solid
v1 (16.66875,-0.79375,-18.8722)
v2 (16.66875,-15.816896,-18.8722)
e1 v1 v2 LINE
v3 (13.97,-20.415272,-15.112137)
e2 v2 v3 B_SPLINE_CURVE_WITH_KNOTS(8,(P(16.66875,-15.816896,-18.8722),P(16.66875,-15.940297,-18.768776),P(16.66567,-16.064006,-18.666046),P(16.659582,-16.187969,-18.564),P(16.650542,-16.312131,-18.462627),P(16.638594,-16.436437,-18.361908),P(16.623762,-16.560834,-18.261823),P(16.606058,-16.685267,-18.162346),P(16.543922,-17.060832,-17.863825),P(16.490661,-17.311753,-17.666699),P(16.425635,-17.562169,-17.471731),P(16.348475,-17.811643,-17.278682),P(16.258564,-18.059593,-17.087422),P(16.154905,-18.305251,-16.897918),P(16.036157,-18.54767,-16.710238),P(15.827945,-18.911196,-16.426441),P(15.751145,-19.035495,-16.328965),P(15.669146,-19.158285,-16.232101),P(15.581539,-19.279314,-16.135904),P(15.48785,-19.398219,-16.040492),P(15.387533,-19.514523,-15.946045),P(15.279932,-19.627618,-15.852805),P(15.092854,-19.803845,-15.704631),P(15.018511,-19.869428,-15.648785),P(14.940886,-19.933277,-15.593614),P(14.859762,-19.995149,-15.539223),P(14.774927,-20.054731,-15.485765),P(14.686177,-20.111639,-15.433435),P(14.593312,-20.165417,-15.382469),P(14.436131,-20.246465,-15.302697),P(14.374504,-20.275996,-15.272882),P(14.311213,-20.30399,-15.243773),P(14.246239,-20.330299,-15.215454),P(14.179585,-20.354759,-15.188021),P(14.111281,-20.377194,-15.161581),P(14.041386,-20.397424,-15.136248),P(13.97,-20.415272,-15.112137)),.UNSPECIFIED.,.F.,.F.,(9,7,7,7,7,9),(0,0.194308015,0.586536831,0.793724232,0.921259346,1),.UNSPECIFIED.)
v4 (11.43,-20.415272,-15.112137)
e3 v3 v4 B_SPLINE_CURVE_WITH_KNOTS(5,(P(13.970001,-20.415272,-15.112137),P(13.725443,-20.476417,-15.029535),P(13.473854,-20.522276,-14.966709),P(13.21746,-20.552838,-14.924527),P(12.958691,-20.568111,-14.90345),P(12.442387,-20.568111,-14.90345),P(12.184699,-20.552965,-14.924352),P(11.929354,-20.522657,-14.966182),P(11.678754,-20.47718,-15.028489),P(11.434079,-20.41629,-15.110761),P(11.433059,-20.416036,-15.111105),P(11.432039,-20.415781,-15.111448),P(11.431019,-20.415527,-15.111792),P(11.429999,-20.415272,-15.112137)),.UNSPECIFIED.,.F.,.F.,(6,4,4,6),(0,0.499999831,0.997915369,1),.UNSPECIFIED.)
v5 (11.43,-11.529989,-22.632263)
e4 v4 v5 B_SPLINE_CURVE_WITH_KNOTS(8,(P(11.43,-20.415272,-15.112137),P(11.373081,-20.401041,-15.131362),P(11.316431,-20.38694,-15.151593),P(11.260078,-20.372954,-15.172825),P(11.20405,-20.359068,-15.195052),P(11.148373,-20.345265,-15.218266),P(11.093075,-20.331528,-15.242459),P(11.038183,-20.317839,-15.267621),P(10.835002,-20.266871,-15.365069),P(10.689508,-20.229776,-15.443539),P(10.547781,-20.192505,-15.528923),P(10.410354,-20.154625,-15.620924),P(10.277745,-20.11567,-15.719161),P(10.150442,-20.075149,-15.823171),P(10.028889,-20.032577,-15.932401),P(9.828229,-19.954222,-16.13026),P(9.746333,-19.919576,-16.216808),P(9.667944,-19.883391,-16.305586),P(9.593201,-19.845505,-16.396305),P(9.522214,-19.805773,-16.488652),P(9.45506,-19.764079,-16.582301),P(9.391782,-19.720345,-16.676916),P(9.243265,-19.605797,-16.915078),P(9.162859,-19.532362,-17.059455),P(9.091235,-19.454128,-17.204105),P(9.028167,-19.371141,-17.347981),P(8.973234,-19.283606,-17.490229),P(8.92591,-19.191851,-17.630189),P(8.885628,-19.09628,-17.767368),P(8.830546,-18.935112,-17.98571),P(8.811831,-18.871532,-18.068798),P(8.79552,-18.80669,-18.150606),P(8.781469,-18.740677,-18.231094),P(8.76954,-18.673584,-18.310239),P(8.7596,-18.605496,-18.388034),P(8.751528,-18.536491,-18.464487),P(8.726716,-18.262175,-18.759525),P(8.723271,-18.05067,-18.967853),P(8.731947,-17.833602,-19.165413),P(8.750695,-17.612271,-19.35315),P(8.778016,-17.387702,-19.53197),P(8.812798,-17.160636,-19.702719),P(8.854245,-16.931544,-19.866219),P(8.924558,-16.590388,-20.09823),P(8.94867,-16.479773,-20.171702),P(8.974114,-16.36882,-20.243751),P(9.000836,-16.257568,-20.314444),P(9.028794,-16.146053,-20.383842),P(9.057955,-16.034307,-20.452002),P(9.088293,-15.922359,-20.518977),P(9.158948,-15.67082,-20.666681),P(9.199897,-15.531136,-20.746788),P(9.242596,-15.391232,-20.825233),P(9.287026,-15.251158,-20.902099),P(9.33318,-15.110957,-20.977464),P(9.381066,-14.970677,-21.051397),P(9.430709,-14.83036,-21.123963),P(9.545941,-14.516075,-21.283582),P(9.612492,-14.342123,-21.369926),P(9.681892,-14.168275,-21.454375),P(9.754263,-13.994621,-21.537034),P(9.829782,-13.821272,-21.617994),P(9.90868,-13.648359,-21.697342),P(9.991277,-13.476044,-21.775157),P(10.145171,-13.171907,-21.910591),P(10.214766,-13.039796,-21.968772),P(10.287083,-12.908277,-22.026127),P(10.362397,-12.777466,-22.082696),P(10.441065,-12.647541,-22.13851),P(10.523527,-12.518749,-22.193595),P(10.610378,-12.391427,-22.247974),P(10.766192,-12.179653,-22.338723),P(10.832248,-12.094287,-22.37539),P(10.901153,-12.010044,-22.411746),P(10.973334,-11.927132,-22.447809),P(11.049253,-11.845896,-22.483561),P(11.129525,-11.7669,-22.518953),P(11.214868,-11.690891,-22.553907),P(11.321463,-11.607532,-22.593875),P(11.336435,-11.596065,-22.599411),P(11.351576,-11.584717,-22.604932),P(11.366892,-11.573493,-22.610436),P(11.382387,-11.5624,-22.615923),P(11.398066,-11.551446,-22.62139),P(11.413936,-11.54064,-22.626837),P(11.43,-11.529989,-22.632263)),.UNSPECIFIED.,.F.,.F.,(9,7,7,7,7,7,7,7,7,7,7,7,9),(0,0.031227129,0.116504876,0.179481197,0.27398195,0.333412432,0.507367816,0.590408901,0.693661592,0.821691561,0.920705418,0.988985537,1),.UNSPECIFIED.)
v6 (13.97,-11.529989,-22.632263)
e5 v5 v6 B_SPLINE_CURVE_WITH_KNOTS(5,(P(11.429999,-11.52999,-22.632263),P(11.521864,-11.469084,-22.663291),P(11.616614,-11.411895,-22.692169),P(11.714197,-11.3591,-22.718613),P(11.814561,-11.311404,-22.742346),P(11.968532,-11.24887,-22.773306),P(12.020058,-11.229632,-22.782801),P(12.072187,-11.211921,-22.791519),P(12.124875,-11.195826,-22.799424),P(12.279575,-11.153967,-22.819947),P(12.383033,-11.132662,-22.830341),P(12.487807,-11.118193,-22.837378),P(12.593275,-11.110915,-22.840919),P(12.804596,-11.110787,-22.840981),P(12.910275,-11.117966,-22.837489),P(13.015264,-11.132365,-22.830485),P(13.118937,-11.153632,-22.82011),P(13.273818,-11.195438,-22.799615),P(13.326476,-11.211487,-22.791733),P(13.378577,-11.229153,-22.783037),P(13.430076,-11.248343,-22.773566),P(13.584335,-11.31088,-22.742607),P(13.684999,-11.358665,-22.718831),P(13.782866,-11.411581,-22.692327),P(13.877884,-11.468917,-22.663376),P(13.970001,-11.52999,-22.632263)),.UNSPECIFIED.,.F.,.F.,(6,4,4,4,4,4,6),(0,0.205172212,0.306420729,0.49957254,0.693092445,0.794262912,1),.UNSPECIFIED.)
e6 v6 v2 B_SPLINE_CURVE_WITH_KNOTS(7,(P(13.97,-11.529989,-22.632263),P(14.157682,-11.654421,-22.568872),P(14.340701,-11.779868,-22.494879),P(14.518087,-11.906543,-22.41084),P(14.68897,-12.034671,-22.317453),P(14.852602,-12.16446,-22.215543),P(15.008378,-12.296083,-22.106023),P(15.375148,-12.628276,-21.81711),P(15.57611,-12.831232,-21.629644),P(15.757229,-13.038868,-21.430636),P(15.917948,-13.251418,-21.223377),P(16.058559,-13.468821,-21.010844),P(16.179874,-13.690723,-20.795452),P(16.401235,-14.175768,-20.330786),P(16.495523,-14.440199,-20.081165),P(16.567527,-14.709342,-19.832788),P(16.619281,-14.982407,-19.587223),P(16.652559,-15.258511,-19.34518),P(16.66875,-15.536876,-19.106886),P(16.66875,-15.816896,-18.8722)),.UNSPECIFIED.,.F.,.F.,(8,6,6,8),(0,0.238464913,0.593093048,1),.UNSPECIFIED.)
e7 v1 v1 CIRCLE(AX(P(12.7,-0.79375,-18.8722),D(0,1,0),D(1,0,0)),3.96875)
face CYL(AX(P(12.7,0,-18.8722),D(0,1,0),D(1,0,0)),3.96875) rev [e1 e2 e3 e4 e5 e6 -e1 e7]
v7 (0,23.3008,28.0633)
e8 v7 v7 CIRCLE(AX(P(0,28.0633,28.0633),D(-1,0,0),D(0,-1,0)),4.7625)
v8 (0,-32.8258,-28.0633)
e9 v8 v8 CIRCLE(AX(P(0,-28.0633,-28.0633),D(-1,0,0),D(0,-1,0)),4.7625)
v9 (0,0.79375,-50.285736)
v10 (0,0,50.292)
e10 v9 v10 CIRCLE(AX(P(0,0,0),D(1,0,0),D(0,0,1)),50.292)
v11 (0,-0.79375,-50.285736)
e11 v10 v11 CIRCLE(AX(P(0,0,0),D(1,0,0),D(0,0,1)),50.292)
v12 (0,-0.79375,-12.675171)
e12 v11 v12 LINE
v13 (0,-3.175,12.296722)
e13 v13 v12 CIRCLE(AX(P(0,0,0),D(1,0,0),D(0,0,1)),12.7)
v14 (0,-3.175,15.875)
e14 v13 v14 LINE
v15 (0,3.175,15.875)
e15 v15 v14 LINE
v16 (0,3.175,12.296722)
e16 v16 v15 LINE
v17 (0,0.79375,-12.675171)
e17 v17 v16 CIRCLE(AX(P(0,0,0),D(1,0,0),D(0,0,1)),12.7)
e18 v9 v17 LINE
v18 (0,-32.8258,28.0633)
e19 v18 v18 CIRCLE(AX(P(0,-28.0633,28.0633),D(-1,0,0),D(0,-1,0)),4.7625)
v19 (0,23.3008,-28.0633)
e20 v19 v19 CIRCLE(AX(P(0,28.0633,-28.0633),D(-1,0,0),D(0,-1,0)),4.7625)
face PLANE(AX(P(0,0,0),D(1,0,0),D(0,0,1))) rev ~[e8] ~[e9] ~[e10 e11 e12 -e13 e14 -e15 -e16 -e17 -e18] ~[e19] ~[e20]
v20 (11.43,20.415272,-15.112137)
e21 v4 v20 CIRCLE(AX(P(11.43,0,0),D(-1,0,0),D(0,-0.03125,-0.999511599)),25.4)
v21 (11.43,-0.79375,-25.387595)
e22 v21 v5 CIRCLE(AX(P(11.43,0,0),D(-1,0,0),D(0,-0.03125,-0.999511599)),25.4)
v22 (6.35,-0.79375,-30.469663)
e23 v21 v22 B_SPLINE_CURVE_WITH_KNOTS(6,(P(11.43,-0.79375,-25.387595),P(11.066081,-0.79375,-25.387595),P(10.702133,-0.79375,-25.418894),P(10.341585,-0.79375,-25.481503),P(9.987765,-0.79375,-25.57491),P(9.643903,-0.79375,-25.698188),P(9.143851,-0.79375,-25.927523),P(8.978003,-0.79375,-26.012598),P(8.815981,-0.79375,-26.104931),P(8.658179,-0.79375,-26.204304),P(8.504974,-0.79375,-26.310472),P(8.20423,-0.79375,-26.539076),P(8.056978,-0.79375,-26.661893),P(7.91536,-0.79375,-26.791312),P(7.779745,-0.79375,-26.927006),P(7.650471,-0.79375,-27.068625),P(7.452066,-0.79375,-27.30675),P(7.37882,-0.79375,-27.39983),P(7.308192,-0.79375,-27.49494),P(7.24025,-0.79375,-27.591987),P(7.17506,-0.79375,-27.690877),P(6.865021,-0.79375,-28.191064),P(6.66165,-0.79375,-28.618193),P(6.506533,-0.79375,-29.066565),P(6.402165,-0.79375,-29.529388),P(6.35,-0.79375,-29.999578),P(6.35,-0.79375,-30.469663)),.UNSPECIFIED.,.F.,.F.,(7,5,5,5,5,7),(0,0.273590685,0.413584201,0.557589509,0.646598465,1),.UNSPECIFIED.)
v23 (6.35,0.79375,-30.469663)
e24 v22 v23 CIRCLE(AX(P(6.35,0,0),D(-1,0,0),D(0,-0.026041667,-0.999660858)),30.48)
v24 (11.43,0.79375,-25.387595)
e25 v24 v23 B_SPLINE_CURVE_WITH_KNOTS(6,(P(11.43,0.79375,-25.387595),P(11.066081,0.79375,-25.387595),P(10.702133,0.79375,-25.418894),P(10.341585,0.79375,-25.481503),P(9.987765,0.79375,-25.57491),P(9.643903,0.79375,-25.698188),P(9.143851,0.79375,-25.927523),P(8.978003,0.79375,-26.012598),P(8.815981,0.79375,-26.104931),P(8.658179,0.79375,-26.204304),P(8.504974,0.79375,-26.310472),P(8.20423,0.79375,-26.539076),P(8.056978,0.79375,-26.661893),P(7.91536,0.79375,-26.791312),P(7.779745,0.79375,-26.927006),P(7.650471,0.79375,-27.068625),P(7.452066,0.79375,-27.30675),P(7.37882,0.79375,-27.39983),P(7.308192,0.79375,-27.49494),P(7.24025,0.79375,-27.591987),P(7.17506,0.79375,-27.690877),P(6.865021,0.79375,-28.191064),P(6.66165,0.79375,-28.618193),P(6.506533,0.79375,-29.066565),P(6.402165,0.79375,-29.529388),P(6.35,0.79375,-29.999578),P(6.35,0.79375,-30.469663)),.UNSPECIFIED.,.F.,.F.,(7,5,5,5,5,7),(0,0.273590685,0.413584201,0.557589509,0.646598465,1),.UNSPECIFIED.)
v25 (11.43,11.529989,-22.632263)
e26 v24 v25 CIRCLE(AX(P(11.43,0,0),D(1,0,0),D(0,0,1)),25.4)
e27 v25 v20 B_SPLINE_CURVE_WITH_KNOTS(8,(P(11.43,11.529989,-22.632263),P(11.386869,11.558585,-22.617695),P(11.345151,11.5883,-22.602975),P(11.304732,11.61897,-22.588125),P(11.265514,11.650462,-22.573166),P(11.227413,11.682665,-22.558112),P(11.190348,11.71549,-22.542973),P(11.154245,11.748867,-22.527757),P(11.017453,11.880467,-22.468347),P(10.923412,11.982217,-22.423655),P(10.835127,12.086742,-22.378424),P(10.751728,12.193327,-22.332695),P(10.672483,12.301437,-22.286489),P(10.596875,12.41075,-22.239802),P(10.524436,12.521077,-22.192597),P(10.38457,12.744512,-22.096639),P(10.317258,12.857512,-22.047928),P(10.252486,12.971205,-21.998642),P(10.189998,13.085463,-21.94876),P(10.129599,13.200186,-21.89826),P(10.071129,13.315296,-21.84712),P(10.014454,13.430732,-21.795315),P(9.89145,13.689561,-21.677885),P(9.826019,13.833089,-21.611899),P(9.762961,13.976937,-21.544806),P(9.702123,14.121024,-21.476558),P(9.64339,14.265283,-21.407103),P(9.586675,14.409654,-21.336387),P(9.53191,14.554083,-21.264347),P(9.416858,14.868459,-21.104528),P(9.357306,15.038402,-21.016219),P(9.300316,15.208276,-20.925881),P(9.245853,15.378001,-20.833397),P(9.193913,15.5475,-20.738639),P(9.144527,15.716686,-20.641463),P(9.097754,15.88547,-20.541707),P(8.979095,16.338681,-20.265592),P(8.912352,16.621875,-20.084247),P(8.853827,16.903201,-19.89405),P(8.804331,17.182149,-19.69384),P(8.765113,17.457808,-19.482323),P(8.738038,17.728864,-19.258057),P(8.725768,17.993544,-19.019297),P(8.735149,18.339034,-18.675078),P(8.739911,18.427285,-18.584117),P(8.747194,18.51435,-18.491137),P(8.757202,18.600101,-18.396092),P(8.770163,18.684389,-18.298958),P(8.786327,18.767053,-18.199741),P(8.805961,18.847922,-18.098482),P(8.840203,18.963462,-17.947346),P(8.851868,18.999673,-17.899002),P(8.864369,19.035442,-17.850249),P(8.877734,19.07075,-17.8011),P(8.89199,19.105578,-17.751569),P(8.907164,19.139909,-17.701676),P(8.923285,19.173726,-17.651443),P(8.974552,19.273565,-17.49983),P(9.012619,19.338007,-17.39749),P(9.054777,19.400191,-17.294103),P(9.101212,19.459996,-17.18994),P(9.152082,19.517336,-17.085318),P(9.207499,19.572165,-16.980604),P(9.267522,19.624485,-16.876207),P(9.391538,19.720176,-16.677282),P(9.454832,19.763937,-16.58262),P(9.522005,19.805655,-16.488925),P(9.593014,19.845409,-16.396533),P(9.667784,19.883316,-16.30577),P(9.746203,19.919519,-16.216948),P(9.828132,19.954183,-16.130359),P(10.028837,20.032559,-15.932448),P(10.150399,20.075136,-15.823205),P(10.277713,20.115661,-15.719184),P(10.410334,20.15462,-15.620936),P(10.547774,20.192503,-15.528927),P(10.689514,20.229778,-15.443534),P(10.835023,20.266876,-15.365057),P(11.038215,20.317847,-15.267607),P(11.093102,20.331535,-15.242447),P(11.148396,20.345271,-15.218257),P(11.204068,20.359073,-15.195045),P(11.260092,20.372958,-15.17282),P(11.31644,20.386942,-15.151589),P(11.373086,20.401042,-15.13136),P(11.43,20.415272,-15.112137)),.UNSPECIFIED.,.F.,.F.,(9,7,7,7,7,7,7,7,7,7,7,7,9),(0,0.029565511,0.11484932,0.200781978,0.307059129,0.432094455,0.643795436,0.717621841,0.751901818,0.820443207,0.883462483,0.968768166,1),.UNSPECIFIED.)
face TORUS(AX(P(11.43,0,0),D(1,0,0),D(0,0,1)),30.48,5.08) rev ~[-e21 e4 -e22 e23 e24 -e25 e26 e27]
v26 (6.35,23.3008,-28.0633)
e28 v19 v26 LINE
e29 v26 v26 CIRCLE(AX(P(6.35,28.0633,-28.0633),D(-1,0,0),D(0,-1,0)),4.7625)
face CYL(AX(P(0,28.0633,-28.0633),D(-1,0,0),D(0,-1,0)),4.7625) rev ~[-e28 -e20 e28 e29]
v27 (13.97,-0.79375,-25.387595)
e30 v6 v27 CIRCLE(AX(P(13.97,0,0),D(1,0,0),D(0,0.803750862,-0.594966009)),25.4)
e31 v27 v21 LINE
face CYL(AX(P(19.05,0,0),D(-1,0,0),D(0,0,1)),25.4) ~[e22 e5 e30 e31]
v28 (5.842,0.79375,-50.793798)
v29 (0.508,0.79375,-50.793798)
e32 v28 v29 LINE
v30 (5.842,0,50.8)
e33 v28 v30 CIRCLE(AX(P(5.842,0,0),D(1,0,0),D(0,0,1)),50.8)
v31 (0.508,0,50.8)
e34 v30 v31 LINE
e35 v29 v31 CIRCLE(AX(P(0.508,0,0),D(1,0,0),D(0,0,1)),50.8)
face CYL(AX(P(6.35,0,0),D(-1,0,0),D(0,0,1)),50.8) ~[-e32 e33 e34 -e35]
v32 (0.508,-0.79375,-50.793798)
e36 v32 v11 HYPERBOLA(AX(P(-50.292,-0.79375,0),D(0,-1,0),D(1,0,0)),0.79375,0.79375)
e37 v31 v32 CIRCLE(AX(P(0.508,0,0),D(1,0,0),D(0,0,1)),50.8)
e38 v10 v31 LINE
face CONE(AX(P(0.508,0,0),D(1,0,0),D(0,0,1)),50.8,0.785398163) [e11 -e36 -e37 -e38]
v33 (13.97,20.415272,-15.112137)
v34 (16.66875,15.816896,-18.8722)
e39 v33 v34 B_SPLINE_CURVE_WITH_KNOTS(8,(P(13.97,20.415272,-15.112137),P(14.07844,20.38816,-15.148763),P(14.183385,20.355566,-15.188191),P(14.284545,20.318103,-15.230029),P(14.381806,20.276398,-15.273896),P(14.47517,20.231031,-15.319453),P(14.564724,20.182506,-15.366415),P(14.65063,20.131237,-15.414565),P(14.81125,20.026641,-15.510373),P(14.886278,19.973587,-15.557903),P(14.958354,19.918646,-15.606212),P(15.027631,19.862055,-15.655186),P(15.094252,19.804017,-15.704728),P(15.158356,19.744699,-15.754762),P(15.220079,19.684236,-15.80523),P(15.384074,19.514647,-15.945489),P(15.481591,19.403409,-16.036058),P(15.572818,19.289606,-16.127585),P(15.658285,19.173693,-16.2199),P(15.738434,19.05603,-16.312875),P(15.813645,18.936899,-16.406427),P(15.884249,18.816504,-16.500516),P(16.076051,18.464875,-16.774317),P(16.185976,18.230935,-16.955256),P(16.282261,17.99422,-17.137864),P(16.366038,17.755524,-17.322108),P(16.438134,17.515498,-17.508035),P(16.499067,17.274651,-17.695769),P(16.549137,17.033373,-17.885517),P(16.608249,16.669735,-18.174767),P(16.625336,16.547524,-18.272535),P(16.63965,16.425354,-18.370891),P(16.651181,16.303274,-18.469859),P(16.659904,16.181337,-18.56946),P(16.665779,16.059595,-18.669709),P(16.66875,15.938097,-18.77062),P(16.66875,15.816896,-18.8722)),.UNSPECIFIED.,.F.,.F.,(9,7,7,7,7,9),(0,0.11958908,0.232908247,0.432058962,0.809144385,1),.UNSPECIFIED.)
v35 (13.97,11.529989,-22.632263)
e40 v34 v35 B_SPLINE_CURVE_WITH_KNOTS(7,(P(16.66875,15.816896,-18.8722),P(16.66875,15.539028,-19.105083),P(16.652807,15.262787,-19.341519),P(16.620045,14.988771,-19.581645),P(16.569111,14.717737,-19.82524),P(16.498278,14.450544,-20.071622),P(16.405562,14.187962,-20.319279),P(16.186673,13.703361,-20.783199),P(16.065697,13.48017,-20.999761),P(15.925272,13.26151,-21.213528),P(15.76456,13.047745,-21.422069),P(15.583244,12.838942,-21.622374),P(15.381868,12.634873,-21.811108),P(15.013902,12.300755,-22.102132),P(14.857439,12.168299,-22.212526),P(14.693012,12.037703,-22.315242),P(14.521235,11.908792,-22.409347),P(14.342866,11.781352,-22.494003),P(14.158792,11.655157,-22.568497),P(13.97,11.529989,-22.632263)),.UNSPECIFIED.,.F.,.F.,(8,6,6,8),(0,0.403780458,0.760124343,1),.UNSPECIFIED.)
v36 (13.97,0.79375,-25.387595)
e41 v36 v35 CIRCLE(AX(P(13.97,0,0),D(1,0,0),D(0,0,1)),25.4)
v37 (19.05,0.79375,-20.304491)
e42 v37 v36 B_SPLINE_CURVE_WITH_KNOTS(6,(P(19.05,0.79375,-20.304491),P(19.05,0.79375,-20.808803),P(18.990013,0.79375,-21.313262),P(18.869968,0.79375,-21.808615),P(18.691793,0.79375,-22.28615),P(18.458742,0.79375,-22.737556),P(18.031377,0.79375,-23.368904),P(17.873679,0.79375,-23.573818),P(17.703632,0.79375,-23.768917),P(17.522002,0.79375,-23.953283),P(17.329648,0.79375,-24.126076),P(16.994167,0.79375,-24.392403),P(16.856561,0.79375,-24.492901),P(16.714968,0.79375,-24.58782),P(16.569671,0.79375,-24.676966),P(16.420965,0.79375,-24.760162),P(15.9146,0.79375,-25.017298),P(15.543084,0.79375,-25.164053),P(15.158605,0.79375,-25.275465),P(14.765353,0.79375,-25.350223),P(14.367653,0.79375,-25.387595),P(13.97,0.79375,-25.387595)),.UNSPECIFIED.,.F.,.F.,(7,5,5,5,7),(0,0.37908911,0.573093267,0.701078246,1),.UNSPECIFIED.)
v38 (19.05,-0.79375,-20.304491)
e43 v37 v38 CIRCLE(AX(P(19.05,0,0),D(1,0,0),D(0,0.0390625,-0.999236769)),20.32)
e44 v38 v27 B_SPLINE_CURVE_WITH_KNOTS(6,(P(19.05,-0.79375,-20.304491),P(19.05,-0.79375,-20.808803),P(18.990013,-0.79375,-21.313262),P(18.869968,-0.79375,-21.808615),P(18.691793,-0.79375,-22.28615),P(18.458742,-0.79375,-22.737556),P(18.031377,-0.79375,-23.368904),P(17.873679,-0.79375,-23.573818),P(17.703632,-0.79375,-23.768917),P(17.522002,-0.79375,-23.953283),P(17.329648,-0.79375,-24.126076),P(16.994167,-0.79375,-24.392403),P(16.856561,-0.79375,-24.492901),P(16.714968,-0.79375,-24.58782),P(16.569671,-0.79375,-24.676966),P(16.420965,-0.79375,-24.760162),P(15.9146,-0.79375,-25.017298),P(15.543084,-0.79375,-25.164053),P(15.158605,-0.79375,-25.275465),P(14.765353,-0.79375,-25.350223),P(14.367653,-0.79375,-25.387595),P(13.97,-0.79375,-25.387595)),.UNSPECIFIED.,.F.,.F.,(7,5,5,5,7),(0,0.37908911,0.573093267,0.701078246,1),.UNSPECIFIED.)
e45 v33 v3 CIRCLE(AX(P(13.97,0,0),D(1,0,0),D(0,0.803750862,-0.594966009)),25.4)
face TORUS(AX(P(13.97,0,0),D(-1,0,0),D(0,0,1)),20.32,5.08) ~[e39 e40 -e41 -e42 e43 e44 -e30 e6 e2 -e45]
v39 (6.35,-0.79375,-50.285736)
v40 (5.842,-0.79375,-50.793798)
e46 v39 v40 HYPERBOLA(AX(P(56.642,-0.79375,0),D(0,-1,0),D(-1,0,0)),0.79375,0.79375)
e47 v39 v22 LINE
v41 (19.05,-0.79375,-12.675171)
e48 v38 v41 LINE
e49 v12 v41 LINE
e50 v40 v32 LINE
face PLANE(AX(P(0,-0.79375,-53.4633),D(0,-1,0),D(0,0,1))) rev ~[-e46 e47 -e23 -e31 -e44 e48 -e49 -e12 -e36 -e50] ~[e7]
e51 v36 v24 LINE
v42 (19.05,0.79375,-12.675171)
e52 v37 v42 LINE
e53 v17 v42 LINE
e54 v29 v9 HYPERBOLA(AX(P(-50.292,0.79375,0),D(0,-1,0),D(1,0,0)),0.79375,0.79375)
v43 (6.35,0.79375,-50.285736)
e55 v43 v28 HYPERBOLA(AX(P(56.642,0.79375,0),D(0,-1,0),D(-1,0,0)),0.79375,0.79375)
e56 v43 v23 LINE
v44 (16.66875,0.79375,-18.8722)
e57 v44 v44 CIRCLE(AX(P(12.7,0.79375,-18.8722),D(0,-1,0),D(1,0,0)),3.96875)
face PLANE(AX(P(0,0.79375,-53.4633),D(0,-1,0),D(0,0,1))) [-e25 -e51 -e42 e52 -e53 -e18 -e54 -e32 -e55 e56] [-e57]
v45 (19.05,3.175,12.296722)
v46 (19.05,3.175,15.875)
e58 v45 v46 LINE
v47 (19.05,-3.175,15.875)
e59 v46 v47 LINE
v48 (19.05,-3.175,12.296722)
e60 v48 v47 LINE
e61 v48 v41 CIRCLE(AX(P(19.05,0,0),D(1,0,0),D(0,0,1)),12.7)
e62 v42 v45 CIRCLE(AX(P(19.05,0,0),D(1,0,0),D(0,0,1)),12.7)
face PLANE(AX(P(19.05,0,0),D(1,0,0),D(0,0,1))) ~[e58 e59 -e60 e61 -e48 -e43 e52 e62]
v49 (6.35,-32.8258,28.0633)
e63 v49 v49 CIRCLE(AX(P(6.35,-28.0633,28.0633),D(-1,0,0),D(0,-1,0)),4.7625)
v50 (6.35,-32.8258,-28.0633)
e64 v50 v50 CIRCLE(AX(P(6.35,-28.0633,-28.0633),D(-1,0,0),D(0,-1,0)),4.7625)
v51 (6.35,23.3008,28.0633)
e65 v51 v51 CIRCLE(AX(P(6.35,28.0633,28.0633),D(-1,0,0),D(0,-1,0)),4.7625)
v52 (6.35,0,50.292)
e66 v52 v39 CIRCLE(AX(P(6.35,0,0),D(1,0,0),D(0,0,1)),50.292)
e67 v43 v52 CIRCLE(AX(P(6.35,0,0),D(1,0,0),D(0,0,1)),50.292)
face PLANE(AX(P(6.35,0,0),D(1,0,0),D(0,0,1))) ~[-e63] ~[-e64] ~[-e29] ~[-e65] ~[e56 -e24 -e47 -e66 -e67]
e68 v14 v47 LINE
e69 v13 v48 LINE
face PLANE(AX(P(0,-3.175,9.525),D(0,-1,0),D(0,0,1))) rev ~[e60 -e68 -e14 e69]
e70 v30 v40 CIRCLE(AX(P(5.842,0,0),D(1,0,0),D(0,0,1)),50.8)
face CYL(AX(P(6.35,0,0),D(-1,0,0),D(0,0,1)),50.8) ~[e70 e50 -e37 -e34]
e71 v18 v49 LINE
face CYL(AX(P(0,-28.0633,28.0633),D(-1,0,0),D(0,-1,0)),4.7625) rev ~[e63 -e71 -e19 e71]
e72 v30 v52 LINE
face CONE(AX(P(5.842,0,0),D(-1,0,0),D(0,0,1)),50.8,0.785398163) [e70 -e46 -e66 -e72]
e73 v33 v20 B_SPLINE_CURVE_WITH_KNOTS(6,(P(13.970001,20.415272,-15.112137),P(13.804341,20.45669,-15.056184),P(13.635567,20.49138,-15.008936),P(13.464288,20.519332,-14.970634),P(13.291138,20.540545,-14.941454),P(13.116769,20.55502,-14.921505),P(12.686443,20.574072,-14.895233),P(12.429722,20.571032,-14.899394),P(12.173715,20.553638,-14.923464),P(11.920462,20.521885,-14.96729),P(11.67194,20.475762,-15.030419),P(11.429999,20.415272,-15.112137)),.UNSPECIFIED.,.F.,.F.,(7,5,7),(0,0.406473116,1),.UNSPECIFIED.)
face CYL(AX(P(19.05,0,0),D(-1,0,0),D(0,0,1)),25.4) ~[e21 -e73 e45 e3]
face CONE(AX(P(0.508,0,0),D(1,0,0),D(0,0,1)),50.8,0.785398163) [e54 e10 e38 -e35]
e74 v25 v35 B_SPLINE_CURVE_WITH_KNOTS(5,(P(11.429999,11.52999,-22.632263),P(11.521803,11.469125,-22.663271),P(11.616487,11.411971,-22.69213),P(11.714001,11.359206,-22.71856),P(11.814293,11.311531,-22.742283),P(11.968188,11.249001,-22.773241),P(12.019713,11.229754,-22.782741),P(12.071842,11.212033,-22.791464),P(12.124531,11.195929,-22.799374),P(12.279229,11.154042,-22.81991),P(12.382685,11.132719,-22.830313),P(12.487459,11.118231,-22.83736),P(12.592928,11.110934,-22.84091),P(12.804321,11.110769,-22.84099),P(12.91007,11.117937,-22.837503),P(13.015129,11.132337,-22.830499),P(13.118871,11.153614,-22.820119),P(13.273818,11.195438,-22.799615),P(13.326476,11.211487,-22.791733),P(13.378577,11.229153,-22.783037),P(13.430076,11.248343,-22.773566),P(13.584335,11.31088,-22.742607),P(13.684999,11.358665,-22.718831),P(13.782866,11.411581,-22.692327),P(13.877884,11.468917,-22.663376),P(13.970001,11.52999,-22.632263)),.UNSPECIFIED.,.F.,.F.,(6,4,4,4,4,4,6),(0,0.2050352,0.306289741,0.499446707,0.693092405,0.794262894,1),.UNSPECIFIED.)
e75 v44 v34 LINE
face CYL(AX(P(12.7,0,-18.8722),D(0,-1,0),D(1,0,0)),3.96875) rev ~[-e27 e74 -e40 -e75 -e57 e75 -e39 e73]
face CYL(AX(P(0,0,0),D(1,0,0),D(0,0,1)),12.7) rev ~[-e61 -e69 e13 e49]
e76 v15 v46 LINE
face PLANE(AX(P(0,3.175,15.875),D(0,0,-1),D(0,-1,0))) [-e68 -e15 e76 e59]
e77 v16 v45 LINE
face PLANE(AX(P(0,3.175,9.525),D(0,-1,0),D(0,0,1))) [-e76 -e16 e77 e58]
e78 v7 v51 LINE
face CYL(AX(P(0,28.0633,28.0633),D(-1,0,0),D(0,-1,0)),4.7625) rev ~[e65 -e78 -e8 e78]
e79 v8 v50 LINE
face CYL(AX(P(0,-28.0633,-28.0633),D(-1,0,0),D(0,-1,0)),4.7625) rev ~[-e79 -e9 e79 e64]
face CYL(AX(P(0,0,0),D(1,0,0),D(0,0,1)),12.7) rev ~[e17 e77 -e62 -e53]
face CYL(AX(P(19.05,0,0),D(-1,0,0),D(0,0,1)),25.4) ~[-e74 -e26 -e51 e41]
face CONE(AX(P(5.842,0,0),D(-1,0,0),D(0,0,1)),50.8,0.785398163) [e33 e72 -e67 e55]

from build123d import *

# Parameters (mm, degrees)
F2_R          = 5.08
F3_SIZE       = 0.508
F4_R          = 4.7625
F4_W          = 6.35
F4_H          = 6.35
F4_W_2        = 1.5875
F4_H_2        = 60.4483003783
F5_DEPTH      = 19.051
F6_R          = 3.96875
F7_DEPTH      = 50.801
F7_DEPTH_BACK = 50.801


with BuildPart() as f1:
    # F0 (on Front) → F1 (revolve)
    with BuildSketch(Plane.XZ):
        Polygon((0, 50.8), (0, 12.7), (19.05, 12.7), (19.05, 25.4), (6.35, 25.4), (6.35, 50.8), align=None)
    revolve(axis=Axis((9.525, 0, 0), (1, 0, 0)))

    # F2
    f2_edges = [f1.edges().sort_by_distance(p)[0] for p in [
        (19.05, 0, -25.4),
        (6.35, 0, -25.4),
    ]]
    fillet(f2_edges, radius=F2_R)

    # F3
    f3_edges = [f1.edges().sort_by_distance(p)[0] for p in [
        (6.35, 0, -50.8),
        (0, 0, -50.8),
    ]]
    chamfer(f3_edges, length=F3_SIZE)

    # F4 (on face) → F5 (cut, through all)
    with BuildSketch(Plane(origin=(0, 0, 0), x_dir=(0, -1, 0), z_dir=(-1, 0, 0))):
        with Locations((-28.0633003783, 28.0633003783)):
            Circle(F4_R)
        with Locations((-28.0633003783, -28.0633003783)):
            Circle(F4_R)
        with Locations((28.0633003783, -28.0633003783)):
            Circle(F4_R)
        with Locations((28.0633003783, 28.0633003783)):
            Circle(F4_R)
        with Locations((0, 12.7)):
            Rectangle(F4_W, F4_H)
        with Locations((0, -23.2391501892)):
            Rectangle(F4_W_2, F4_H_2)
    extrude(amount=-F5_DEPTH, mode=Mode.SUBTRACT)

    # F6 (on Front) → F7 (cut, two sides)
    with BuildSketch(Plane.XZ) as f7_sk:
        with Locations((12.7, -18.8722)):
            Circle(F6_R)
    extrude(amount=-F7_DEPTH, mode=Mode.SUBTRACT)
    extrude(f7_sk.sketch, amount=F7_DEPTH_BACK, mode=Mode.SUBTRACT)


solid = f1.part
